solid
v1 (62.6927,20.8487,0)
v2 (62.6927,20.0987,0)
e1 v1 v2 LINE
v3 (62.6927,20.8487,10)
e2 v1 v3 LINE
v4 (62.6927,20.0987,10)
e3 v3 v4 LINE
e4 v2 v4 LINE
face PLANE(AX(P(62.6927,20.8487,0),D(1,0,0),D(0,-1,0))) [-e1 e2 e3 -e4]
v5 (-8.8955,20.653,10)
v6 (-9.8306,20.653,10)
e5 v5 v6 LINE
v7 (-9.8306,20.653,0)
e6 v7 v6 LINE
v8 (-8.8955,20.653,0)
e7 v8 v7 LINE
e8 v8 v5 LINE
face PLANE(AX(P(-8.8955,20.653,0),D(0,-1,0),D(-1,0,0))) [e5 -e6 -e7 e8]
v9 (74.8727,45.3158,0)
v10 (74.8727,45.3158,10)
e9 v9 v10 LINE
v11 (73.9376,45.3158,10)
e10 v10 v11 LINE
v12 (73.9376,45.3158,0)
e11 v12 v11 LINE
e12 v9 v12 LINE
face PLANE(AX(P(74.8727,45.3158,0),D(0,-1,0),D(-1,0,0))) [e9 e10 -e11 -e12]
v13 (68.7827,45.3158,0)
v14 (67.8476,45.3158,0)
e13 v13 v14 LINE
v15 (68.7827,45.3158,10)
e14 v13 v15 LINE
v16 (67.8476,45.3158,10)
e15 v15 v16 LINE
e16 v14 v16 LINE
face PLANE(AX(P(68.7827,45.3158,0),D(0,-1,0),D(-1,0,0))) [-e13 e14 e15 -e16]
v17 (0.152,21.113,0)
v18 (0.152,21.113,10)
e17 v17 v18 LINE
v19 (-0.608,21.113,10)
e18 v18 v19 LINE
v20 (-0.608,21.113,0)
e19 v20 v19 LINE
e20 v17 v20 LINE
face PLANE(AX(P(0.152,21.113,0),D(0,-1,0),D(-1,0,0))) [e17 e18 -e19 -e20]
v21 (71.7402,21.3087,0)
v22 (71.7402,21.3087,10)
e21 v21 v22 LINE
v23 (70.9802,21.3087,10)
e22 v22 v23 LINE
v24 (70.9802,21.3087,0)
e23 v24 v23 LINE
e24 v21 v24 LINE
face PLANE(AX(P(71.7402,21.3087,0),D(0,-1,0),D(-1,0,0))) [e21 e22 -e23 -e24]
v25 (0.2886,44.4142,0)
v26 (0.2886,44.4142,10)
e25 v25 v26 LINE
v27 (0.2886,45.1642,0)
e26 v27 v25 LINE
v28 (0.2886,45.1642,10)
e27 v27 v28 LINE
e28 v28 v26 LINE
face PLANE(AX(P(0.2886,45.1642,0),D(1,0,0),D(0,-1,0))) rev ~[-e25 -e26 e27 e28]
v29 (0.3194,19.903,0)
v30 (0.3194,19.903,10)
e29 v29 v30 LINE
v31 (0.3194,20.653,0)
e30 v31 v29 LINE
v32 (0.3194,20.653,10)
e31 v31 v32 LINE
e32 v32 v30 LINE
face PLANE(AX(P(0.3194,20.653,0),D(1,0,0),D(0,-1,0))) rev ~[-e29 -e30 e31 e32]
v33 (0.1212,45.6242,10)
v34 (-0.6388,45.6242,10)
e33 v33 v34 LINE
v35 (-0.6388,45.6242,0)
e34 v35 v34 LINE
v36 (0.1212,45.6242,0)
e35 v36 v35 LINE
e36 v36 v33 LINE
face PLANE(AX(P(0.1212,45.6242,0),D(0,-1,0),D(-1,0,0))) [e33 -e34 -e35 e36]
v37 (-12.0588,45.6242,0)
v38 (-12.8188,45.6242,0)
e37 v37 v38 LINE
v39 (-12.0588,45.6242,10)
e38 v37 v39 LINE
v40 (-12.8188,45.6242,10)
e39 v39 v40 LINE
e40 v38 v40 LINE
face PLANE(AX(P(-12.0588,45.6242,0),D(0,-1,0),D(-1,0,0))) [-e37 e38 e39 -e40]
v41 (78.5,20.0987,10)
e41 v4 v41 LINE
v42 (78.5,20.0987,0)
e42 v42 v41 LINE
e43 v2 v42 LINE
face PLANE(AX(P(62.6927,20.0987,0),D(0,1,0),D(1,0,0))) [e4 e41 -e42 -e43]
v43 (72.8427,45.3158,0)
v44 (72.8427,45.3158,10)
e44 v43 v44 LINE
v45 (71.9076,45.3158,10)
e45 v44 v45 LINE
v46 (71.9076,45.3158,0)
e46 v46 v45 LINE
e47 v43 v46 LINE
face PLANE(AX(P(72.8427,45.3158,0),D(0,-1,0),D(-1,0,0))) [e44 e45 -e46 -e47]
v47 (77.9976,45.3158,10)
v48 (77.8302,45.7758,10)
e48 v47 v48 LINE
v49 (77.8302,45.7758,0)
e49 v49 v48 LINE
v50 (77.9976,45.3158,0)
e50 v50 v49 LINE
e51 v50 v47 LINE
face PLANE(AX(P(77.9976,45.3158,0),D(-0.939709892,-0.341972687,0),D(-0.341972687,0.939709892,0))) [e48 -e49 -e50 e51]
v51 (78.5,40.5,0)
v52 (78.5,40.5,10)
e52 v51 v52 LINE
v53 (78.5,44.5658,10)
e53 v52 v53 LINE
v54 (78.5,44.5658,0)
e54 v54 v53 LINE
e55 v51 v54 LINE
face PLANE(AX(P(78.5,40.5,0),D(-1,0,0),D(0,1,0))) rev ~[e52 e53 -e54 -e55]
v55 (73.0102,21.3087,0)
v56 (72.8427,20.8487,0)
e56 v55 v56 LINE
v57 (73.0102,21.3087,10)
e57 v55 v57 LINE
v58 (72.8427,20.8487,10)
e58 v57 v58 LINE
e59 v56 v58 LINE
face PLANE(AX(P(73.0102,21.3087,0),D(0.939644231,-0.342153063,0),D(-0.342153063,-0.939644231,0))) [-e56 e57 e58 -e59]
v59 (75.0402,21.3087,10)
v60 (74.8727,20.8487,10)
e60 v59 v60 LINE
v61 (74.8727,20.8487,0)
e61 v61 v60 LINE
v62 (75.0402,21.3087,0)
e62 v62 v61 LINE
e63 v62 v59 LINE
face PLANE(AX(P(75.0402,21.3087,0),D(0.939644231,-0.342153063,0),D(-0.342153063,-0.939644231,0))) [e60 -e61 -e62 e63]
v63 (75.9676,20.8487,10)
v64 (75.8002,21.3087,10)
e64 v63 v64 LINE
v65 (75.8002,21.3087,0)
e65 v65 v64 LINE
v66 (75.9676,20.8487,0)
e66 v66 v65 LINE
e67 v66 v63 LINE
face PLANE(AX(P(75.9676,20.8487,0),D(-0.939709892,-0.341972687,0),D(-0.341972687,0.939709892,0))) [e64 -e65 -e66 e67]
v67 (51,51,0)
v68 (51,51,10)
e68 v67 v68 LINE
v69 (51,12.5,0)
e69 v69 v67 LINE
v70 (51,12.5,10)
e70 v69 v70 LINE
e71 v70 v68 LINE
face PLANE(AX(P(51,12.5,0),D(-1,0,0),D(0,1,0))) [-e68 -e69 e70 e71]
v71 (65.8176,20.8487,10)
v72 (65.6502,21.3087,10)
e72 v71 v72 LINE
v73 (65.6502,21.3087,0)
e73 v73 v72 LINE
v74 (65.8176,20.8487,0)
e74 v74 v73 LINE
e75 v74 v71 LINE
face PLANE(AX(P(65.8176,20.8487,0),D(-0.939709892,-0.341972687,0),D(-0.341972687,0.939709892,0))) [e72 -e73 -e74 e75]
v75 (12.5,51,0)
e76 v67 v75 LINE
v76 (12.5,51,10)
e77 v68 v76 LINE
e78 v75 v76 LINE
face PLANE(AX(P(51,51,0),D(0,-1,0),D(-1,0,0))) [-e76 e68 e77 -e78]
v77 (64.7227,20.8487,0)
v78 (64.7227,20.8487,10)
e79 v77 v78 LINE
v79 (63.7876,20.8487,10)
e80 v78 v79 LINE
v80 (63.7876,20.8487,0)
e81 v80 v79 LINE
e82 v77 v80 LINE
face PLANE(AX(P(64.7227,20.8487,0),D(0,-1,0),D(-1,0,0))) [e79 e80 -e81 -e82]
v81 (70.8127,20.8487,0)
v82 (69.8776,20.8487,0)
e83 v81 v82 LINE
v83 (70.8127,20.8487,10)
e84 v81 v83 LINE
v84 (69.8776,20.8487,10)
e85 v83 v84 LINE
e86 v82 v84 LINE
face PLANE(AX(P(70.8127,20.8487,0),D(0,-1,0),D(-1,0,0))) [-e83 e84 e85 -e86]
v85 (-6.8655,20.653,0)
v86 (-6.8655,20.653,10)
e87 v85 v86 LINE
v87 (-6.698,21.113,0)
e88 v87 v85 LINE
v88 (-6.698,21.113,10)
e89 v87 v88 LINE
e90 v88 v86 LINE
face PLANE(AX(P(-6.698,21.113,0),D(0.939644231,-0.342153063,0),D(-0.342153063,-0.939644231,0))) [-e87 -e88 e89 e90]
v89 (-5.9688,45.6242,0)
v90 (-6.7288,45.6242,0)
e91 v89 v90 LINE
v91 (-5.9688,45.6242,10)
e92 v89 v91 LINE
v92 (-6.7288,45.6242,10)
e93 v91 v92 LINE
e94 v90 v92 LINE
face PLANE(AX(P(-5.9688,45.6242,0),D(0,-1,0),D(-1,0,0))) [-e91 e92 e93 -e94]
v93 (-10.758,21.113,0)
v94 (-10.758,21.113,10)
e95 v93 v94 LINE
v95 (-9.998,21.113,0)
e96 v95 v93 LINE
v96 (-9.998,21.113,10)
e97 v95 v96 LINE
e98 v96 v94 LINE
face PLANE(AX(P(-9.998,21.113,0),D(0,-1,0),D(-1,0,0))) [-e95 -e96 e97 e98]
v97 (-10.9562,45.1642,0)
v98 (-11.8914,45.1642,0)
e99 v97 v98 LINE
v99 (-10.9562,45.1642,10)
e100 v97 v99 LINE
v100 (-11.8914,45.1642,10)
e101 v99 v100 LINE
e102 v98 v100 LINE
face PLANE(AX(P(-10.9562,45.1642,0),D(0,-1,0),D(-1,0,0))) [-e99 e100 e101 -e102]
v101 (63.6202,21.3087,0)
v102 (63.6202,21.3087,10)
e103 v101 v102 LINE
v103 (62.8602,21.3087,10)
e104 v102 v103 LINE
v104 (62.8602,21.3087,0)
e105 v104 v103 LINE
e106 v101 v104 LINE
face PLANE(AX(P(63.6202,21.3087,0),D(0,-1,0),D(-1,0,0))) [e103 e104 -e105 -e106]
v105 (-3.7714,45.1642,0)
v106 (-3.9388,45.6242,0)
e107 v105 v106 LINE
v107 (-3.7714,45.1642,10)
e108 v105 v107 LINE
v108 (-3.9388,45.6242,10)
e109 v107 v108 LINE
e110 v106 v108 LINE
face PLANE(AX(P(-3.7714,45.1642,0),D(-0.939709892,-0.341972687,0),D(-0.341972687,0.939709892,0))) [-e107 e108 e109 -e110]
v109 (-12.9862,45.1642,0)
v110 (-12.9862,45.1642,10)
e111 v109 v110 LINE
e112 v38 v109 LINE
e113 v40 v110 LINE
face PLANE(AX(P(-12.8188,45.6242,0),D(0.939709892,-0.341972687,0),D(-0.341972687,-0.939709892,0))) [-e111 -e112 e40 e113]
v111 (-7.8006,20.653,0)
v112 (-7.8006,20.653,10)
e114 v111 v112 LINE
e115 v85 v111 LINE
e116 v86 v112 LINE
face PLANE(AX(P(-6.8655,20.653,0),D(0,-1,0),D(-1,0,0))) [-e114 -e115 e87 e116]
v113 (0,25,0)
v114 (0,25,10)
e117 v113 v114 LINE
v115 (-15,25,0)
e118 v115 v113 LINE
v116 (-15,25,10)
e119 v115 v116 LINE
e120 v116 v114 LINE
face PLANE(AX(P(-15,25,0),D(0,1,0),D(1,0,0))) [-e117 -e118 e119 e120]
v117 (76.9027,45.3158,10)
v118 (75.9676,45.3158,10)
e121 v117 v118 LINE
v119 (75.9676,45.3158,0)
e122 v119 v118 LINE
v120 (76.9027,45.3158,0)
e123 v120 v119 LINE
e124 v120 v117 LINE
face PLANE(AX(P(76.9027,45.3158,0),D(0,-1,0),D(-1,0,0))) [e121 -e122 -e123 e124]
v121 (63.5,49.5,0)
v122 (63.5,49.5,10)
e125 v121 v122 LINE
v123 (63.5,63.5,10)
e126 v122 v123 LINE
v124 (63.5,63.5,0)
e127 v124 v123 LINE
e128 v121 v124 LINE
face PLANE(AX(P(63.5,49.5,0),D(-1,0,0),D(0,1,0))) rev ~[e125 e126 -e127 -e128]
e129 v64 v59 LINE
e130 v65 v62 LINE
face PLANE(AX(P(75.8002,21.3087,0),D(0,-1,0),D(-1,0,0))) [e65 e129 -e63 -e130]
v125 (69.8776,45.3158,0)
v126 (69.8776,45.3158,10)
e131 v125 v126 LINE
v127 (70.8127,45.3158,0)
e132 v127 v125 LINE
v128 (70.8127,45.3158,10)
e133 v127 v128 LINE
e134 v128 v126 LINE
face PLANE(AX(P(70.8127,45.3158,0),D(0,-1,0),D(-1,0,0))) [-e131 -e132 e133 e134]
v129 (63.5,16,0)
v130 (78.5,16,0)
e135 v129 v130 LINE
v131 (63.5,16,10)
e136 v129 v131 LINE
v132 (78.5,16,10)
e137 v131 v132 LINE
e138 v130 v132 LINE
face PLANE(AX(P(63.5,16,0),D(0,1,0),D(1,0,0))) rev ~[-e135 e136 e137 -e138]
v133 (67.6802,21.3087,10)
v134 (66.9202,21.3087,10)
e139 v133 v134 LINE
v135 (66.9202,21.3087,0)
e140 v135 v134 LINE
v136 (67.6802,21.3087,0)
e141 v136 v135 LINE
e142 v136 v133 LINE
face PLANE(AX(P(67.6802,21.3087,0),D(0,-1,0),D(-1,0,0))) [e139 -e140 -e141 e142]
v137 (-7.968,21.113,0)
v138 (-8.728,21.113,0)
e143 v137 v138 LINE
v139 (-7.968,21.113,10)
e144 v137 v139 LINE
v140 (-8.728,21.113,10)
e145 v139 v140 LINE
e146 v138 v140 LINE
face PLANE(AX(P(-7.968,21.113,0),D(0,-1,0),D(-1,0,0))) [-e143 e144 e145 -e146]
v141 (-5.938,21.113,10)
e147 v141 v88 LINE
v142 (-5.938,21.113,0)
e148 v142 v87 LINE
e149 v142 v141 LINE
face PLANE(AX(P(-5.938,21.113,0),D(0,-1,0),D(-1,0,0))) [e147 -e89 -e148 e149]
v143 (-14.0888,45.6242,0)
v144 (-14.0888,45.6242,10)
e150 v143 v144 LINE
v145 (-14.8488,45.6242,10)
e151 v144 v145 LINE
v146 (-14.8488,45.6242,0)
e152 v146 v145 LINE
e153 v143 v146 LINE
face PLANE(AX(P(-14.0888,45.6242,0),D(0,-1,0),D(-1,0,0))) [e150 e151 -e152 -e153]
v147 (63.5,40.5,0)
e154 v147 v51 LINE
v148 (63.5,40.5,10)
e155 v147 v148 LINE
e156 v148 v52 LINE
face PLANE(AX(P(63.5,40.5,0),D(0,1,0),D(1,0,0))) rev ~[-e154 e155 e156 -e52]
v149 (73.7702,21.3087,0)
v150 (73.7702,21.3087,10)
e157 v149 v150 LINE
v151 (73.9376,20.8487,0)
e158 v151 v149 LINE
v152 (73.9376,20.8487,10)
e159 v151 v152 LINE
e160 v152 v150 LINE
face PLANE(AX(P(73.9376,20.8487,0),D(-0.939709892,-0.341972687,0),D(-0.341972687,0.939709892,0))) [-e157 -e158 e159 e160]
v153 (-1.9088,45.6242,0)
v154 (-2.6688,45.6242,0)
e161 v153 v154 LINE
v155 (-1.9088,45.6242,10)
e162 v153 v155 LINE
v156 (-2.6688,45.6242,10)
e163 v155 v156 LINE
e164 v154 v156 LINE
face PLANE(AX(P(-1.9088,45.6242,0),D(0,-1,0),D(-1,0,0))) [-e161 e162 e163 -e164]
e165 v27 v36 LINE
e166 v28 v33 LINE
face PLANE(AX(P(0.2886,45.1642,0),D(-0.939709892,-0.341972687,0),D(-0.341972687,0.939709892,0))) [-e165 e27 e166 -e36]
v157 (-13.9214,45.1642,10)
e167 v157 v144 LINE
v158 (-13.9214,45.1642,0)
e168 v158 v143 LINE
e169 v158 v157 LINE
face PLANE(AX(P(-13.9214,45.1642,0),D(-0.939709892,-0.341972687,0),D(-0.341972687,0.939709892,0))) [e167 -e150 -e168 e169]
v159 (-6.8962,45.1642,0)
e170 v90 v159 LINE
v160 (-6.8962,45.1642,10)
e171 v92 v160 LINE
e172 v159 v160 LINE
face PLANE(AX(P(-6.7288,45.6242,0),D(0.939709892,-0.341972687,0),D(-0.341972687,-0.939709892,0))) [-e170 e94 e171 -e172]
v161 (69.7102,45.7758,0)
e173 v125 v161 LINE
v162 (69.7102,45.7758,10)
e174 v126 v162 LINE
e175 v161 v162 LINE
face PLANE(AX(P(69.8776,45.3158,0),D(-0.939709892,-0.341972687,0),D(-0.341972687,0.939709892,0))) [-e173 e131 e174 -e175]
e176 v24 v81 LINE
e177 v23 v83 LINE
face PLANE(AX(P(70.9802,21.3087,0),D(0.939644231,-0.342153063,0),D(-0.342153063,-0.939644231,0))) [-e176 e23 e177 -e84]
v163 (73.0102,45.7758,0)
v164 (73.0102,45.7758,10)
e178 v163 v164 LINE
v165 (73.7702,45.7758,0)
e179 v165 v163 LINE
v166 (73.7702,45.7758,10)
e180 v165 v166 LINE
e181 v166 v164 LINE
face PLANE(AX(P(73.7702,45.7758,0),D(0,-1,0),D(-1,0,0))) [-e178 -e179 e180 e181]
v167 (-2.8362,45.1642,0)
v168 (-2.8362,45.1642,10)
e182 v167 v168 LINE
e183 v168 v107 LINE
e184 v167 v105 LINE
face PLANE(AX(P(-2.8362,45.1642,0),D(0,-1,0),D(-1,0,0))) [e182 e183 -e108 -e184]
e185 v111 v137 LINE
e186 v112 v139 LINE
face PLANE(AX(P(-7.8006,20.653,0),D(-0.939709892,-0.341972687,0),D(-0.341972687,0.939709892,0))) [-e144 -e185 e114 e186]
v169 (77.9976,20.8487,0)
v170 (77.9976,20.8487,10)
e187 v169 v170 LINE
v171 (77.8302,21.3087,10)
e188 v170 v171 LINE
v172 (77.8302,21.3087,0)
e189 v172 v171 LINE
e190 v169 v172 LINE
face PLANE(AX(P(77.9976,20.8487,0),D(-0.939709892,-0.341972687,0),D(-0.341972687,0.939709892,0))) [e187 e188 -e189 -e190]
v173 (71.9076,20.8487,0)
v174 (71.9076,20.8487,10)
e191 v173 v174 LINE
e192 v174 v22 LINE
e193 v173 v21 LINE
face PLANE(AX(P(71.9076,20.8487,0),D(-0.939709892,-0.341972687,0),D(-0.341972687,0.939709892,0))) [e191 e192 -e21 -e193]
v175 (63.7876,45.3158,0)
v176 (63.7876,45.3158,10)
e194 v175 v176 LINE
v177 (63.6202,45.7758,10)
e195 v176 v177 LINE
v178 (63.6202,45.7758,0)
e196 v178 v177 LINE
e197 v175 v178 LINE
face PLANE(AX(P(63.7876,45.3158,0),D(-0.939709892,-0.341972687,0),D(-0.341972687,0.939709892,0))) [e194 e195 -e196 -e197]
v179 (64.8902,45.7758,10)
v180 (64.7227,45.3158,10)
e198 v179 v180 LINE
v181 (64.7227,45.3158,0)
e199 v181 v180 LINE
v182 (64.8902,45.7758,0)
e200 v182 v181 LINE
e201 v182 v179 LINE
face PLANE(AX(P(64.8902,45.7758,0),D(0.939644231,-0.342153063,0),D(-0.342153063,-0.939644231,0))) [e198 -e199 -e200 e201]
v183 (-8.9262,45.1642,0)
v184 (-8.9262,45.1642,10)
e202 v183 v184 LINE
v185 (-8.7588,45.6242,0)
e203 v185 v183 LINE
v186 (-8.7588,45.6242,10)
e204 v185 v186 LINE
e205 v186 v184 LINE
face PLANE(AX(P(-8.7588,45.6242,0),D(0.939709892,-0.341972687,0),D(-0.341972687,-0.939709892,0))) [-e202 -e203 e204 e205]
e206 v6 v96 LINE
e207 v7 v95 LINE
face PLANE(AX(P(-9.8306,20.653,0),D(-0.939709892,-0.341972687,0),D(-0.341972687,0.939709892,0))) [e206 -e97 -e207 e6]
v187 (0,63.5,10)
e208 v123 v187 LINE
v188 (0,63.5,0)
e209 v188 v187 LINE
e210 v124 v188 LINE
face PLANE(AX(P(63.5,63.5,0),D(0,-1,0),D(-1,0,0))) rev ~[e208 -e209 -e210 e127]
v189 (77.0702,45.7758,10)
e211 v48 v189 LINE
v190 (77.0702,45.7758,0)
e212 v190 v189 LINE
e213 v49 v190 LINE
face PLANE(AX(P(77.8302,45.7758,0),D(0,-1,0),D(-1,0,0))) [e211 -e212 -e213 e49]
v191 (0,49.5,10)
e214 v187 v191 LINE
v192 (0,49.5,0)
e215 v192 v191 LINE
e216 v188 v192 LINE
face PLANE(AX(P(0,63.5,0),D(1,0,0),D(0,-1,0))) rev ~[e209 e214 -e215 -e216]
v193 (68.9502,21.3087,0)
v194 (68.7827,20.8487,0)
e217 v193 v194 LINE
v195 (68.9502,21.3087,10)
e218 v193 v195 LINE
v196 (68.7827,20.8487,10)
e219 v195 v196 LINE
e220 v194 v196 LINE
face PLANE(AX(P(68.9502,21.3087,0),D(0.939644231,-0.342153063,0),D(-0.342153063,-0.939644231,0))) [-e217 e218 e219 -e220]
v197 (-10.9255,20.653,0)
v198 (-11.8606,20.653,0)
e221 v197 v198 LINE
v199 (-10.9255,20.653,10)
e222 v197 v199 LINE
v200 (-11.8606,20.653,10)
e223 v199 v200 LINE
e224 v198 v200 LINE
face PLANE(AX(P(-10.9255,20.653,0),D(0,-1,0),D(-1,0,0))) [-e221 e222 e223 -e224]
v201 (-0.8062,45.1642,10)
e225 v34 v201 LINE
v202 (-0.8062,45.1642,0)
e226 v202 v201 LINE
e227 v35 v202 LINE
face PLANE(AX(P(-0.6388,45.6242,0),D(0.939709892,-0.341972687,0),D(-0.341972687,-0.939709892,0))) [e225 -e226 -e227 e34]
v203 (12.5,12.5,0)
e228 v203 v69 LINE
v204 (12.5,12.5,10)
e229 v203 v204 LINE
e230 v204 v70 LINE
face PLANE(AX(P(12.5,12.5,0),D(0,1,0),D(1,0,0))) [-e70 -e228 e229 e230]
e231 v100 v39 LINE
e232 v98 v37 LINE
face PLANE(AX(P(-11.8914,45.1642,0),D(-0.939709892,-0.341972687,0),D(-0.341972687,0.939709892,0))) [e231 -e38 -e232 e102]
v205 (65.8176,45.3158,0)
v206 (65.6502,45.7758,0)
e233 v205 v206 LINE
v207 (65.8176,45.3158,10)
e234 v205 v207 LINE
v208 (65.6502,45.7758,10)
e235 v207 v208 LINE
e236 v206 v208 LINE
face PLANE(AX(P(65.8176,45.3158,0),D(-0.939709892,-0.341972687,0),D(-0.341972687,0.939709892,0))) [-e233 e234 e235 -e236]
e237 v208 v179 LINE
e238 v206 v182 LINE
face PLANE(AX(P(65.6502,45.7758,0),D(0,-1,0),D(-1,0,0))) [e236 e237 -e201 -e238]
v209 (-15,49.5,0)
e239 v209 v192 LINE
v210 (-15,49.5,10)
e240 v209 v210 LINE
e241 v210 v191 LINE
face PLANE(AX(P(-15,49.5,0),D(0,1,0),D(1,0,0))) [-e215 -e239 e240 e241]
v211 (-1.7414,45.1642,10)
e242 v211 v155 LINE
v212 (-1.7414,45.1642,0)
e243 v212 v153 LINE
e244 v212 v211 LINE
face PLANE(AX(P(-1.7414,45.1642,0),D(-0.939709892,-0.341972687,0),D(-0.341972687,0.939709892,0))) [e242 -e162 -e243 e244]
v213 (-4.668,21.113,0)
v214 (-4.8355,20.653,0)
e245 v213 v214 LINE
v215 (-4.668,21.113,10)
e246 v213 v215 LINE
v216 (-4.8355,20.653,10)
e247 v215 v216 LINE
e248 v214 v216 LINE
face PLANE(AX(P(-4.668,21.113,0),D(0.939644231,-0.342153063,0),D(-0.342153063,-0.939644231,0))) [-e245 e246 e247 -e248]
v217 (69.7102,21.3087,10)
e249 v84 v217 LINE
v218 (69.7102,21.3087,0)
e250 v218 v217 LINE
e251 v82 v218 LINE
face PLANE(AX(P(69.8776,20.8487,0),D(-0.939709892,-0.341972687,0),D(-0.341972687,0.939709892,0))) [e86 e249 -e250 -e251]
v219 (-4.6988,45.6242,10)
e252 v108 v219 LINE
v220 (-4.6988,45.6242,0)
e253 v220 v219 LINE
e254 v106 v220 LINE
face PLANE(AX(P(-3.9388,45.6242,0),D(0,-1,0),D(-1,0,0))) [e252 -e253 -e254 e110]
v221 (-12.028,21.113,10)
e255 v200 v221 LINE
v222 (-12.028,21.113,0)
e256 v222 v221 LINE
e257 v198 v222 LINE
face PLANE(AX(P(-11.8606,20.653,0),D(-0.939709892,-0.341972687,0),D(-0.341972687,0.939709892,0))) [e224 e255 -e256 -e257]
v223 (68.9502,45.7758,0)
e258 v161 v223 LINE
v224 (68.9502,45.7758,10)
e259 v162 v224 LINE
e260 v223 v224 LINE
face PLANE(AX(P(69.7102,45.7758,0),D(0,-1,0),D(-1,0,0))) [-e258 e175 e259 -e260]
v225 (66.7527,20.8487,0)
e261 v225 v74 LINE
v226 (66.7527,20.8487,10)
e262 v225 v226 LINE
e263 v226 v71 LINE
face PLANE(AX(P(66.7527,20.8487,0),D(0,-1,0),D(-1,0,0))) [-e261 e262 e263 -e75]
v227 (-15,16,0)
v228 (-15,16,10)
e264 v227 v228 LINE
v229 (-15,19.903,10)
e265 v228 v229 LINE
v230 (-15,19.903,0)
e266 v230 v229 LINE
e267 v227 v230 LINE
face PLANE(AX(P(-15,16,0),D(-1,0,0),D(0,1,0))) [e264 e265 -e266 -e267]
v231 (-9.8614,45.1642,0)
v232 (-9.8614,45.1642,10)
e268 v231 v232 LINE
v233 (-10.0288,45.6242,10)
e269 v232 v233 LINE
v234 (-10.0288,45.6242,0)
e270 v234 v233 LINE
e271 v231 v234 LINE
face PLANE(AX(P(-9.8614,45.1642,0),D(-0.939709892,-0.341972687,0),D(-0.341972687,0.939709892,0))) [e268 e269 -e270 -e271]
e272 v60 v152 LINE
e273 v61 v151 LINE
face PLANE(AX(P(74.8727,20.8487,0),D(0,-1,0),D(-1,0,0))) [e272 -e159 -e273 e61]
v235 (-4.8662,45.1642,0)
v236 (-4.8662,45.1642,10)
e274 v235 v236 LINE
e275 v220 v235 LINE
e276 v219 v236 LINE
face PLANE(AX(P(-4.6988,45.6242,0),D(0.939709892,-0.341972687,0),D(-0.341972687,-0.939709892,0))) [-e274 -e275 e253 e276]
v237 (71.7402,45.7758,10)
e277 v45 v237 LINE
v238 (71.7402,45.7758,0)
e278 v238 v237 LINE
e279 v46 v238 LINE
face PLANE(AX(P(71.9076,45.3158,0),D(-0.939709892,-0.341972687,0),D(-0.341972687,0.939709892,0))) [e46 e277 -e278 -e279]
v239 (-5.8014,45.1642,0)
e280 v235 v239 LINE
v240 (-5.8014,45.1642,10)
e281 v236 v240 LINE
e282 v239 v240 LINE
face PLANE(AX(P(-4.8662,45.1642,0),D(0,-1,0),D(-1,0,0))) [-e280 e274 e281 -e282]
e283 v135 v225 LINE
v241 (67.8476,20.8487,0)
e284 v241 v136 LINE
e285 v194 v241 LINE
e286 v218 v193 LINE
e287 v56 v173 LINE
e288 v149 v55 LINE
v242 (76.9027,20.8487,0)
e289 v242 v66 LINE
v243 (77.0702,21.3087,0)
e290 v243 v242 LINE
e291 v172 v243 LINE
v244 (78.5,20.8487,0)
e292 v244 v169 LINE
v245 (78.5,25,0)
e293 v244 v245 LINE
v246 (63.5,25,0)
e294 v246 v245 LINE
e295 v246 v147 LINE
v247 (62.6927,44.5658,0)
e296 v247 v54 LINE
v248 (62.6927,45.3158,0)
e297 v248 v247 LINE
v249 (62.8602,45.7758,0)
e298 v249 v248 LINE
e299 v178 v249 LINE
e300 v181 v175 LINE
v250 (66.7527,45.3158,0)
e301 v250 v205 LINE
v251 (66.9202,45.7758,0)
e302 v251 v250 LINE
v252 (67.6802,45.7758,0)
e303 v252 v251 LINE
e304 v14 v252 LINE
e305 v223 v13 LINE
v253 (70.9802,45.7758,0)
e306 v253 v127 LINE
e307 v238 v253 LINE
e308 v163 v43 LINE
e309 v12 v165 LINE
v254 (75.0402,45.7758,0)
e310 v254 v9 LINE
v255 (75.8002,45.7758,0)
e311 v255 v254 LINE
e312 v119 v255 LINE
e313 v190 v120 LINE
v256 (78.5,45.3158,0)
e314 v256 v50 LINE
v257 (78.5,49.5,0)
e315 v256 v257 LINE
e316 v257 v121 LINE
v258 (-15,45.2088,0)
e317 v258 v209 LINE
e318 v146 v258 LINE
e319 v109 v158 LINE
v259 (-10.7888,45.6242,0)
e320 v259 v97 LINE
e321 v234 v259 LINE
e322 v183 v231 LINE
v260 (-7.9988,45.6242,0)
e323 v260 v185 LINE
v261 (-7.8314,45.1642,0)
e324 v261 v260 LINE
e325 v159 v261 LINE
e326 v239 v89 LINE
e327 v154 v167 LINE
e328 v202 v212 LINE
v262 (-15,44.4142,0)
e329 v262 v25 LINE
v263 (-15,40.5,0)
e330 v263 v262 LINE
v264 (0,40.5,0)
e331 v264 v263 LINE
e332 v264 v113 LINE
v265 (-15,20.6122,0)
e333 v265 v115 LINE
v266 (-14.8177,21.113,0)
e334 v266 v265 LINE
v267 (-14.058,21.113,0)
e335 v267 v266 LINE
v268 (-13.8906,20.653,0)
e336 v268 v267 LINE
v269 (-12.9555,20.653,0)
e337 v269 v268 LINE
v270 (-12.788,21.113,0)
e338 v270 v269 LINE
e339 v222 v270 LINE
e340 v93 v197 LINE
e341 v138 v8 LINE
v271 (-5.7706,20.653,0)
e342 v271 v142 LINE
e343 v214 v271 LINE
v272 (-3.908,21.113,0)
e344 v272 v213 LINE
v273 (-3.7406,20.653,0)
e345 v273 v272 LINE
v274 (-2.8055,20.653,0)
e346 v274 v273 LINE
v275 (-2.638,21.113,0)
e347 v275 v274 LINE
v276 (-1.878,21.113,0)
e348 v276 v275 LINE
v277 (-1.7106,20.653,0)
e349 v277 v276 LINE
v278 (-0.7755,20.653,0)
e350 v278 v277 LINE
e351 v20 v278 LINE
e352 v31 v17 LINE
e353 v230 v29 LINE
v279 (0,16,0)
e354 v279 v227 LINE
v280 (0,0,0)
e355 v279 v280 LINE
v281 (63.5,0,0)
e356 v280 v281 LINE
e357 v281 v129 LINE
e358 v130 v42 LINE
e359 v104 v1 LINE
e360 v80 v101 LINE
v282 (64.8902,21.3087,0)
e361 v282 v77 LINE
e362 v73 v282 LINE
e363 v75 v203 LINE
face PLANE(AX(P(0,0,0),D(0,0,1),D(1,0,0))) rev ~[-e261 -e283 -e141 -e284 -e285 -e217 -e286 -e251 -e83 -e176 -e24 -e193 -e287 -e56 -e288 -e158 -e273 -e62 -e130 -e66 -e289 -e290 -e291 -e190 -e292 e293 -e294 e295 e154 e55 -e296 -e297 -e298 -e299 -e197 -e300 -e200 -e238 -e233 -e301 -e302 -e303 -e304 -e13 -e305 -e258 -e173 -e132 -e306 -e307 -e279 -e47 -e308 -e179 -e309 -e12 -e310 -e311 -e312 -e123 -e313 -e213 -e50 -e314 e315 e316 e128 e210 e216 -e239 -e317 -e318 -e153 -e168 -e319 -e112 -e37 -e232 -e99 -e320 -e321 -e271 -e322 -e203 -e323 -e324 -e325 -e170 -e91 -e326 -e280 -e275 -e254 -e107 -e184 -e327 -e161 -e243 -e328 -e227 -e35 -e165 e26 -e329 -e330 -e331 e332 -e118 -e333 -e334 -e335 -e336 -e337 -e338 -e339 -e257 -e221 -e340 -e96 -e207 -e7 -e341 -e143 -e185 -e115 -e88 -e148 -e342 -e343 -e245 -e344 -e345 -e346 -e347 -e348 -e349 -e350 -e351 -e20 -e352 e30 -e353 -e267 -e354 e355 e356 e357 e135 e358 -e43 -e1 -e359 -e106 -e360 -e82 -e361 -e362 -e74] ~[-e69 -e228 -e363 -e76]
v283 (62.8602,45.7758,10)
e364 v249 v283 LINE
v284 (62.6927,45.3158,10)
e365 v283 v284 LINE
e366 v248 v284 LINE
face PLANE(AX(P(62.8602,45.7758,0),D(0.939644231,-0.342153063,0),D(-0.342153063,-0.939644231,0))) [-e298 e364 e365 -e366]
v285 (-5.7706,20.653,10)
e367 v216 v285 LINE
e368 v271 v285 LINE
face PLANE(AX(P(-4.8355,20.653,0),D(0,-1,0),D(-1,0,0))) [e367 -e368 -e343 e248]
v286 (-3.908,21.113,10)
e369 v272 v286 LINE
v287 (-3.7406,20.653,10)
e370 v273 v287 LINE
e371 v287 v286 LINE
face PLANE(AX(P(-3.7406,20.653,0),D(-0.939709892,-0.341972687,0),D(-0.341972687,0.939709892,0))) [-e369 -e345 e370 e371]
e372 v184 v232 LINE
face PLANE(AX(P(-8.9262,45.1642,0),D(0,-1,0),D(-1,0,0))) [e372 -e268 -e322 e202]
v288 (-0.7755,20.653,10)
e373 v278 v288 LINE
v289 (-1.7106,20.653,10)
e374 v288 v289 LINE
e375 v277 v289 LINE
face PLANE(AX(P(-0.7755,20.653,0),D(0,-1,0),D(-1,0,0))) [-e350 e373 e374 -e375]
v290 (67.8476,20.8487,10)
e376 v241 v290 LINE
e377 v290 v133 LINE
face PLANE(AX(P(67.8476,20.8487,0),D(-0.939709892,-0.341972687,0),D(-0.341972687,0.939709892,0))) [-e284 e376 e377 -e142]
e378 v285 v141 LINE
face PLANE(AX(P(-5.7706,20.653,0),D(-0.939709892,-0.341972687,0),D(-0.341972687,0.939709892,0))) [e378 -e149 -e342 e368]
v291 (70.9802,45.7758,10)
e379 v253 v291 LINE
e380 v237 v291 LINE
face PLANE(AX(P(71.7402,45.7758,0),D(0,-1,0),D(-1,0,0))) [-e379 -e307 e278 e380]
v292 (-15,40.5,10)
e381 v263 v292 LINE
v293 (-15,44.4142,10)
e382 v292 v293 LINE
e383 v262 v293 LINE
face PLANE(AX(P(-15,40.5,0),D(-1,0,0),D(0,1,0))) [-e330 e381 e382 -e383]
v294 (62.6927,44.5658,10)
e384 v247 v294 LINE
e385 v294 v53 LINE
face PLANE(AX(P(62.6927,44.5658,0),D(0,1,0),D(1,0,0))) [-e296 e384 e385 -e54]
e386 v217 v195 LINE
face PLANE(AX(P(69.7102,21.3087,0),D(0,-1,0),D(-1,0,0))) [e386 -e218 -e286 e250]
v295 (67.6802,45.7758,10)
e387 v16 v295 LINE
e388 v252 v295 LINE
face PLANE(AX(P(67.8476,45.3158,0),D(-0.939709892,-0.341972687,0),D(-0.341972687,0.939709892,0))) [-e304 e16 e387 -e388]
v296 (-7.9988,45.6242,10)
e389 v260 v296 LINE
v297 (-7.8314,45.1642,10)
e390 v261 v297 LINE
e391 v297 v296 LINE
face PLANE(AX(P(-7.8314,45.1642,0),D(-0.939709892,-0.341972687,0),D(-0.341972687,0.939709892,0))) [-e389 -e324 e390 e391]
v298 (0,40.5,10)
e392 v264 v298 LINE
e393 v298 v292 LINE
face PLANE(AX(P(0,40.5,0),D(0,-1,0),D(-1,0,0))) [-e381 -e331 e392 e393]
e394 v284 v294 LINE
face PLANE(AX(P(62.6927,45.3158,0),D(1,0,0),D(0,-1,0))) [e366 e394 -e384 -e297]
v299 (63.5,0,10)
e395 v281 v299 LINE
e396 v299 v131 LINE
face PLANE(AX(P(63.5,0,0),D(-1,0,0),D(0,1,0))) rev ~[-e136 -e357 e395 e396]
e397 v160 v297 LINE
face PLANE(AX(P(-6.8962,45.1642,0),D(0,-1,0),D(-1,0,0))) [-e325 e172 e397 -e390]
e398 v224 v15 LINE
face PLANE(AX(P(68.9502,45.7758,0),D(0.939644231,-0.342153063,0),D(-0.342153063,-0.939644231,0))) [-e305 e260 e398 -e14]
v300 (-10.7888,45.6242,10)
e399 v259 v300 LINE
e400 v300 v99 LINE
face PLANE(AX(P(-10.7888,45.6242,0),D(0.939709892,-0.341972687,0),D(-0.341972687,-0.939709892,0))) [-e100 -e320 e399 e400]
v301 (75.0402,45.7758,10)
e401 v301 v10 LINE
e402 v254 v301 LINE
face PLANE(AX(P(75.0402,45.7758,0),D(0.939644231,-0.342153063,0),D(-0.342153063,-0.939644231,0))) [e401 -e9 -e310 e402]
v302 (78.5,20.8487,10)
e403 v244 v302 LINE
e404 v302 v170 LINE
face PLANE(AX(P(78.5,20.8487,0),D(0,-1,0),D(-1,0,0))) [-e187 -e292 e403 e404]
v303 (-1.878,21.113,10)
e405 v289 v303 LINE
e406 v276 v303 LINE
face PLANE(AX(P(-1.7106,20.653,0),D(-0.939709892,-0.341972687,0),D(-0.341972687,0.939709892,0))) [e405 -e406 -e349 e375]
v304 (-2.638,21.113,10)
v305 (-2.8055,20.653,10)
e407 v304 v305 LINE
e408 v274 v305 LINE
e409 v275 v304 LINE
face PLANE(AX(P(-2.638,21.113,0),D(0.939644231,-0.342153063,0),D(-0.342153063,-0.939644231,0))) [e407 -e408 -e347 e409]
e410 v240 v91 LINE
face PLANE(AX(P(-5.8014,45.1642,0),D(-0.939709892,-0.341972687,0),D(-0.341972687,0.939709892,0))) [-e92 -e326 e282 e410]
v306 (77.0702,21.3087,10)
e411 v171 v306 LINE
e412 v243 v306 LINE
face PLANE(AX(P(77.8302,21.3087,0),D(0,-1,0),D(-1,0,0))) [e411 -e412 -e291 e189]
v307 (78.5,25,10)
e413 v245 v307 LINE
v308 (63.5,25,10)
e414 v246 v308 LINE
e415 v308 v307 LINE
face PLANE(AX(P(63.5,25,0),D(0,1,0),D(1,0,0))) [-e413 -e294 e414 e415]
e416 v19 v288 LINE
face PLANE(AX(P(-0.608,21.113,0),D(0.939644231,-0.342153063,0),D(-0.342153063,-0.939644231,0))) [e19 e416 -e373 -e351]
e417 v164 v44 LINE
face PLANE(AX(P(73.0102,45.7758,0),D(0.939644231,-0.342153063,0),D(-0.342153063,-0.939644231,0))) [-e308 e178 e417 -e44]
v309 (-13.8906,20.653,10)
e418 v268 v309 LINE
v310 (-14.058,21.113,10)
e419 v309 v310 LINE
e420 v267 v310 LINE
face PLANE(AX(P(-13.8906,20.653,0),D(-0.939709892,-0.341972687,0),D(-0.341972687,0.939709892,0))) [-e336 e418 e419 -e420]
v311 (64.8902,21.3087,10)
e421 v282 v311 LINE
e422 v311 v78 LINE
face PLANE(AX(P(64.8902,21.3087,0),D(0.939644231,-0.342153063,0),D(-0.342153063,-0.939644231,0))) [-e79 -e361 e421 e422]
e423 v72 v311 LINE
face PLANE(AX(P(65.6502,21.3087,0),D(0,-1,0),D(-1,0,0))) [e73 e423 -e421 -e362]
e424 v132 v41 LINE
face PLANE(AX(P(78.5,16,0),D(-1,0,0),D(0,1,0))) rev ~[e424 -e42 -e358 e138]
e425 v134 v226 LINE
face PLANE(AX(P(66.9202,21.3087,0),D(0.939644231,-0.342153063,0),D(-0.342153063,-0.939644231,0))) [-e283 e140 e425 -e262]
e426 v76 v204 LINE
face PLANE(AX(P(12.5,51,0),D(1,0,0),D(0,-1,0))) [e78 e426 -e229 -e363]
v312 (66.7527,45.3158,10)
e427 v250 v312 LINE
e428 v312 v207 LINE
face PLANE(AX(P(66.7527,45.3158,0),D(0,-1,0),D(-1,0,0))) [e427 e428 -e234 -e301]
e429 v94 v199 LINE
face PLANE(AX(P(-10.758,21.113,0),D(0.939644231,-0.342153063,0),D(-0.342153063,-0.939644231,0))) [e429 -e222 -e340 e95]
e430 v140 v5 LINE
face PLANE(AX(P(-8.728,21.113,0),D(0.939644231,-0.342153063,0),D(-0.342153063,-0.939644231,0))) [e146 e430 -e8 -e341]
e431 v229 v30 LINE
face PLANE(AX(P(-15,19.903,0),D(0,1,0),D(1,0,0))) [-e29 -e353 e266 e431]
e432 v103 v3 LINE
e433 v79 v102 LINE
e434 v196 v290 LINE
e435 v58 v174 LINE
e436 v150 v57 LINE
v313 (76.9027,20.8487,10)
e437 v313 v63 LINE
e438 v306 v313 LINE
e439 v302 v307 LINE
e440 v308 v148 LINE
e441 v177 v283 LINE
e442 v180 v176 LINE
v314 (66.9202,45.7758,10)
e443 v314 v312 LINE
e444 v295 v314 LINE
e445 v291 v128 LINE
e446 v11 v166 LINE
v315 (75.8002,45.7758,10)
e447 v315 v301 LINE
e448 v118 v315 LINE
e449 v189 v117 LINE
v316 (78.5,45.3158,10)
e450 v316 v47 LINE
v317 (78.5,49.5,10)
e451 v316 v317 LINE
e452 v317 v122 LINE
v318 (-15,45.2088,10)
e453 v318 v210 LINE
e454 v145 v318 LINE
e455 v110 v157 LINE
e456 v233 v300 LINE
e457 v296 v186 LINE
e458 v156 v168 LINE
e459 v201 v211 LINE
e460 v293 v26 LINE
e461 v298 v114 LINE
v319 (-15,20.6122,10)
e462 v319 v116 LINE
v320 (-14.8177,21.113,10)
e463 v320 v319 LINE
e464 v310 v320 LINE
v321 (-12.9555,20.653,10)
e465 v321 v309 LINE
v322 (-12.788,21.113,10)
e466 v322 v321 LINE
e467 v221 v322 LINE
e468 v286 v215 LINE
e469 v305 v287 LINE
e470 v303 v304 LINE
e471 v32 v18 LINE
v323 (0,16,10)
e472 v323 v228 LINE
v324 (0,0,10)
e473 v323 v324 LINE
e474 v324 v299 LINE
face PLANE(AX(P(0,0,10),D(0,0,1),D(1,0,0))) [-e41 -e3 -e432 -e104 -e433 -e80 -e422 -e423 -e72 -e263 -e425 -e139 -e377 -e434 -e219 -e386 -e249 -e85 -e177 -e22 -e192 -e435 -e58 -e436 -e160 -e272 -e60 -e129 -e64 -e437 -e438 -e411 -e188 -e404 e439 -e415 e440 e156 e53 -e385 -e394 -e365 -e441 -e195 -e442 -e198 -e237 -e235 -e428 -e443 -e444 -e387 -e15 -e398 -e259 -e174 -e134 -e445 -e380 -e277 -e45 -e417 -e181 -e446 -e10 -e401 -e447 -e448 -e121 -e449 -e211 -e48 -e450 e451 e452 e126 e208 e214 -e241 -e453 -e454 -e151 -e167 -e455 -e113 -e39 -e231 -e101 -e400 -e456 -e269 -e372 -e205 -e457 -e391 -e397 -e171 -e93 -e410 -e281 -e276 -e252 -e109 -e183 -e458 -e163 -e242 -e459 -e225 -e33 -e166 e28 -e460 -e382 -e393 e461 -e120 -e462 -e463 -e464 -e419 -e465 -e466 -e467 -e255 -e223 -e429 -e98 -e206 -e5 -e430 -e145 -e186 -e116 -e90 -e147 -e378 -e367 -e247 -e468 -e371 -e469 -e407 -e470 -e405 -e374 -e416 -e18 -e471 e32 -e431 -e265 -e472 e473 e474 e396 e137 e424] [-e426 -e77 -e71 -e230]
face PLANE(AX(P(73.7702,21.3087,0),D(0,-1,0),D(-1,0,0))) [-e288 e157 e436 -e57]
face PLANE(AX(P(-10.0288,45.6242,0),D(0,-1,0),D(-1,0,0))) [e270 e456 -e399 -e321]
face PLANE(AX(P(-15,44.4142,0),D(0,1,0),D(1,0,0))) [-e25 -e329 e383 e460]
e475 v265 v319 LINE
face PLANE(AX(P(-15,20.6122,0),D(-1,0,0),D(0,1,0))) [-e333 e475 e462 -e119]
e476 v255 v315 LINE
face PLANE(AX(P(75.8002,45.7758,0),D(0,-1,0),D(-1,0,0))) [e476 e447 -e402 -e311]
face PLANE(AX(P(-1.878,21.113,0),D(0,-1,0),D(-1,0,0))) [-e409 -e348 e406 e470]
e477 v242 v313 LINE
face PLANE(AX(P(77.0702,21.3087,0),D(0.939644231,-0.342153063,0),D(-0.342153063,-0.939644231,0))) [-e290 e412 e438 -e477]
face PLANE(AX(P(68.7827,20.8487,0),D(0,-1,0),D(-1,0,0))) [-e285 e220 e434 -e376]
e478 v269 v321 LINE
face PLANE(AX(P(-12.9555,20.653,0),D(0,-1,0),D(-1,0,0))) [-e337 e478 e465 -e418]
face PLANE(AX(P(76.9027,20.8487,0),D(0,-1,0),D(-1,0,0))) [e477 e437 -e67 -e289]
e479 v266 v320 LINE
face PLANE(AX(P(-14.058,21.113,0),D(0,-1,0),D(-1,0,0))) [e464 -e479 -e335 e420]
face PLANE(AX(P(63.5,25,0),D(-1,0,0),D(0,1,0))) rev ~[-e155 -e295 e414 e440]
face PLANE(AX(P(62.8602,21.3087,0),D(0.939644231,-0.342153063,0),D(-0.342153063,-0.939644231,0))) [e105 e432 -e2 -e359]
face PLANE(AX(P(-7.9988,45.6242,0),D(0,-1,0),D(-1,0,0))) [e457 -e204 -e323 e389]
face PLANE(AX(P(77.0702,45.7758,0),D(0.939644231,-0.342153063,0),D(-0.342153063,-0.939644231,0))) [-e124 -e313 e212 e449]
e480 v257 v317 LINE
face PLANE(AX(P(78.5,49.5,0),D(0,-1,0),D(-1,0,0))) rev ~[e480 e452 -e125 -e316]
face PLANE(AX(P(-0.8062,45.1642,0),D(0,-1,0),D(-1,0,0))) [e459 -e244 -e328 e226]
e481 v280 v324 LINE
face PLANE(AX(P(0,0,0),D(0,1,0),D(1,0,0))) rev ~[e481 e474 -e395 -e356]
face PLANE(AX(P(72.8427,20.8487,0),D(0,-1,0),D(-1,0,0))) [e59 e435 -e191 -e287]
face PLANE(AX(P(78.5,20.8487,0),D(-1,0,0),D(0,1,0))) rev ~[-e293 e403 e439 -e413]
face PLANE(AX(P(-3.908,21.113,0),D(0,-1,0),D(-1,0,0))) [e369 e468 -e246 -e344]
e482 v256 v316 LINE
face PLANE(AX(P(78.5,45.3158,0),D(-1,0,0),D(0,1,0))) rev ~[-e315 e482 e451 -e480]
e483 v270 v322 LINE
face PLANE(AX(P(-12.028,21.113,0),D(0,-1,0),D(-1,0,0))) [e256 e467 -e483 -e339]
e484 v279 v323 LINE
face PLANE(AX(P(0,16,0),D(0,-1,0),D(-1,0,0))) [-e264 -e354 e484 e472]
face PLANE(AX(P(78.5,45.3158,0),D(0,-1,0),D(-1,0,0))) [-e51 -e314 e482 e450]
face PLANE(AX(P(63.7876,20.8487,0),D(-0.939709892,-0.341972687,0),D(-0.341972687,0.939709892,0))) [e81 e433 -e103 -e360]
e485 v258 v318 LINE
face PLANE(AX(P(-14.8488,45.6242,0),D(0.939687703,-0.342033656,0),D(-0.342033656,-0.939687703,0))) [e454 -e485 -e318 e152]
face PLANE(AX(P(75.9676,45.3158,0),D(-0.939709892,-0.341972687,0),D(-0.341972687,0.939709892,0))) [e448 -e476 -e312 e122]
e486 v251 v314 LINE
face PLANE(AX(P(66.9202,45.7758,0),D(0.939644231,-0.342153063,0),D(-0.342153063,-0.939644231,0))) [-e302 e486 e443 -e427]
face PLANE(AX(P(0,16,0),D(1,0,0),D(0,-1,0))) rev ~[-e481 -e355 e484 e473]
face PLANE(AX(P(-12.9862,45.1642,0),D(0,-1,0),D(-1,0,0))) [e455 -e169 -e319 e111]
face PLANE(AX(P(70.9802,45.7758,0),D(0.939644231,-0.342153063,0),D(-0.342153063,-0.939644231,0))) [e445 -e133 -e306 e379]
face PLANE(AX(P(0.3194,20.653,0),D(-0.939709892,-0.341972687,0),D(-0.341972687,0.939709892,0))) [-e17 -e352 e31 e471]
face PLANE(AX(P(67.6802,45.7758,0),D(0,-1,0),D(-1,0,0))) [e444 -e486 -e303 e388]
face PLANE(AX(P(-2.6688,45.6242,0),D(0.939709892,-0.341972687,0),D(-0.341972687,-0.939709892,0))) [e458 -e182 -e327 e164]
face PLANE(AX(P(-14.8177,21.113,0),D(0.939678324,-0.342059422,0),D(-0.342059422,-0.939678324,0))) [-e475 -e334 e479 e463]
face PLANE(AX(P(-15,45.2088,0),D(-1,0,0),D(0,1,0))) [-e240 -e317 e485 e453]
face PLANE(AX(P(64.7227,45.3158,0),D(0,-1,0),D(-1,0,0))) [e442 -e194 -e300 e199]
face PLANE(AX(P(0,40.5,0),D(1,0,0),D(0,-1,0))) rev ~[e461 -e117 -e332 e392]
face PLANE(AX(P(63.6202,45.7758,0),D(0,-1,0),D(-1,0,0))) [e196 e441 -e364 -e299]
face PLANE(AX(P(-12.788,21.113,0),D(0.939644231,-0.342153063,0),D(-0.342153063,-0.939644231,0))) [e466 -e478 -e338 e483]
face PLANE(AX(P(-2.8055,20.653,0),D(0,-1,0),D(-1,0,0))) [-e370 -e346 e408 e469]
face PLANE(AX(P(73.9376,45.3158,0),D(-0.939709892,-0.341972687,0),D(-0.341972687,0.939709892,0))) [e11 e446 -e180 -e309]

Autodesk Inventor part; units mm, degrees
ref_plane "YZ Plane" through (0, 0, 0) normal (1, 0, 0) x (0, 1, 0)
ref_plane "XZ Plane" through (0, 0, 0) normal (0, 1, 0) x (-1, 0, 0)
ref_plane "XY Plane" through (0, 0, 0) normal (0, 0, 1) x (1, 0, 0)
sketch "Sketch1" plane through (0, 0, 0) normal (0, 0, 1) x (1, 0, 0)
  line L0 (0, 0) -> (63.5, 0)
  line L1 (63.5, 63.5) -> (0, 63.5)
  line L2 (0, 2) -> (0, 16) construction
  line L3 (0, 20.5) -> (-60, 20.5) construction
  line L4 (-60, 20.5) -> (152, 20.5) construction
  line L5 (0, 45) -> (-57, 45) construction
  line L6 (-57, 45) -> (114, 45) construction
  line L7 (0, 16) -> (-15, 16)
  line L8 (-15, 25) -> (0, 25)
  line L9 (0, 16) -> (0, 0)
  line L10 (0, 0) -> (12.5, 0) construction
  line L11 (12.5, 0) -> (12.5, 12.5) construction
  line L12 (12.5, 12.5) -> (18.4945, 12.5) construction
  line L13 (63.5, 63.5) -> (63.5, 51) construction
  line L14 (63.5, 51) -> (51, 51) construction
  line L15 (51, 51) -> (12.5, 51)
  line L16 (12.5, 51) -> (12.5, 12.5)
  line L17 (12.5, 12.5) -> (51, 12.5)
  line L18 (51, 12.5) -> (51, 51)
  line L19 (0, 40.5) -> (-15, 40.5)
  line L20 (-15, 49.5) -> (0, 49.5)
  line L21 (0.2886, 45.1642) -> (0.1212, 45.6242)
  line L22 (0.1212, 45.6242) -> (-0.6388, 45.6242)
  line L23 (-0.6388, 45.6242) -> (-0.8062, 45.1642)
  line L24 (-0.8062, 45.1642) -> (-1.7414, 45.1642)
  line L25 (-1.7414, 45.1642) -> (-1.9088, 45.6242)
  line L26 (-1.9088, 45.6242) -> (-2.6688, 45.6242)
  line L27 (-2.6688, 45.6242) -> (-2.8362, 45.1642)
  line L28 (-2.8362, 45.1642) -> (-3.7714, 45.1642)
  line L29 (-3.7714, 45.1642) -> (-3.9388, 45.6242)
  line L30 (-3.9388, 45.6242) -> (-4.6988, 45.6242)
  line L31 (-4.6988, 45.6242) -> (-4.8662, 45.1642)
  line L32 (-4.8662, 45.1642) -> (-5.8014, 45.1642)
  line L33 (-5.8014, 45.1642) -> (-5.9688, 45.6242)
  line L34 (-5.9688, 45.6242) -> (-6.7288, 45.6242)
  line L35 (-6.7288, 45.6242) -> (-6.8962, 45.1642)
  line L36 (-6.8962, 45.1642) -> (-7.8314, 45.1642)
  line L37 (-7.8314, 45.1642) -> (-7.9988, 45.6242)
  line L38 (-7.9988, 45.6242) -> (-8.7588, 45.6242)
  line L39 (-8.7588, 45.6242) -> (-8.9262, 45.1642)
  line L40 (-8.9262, 45.1642) -> (-9.8614, 45.1642)
  line L41 (-9.8614, 45.1642) -> (-10.0288, 45.6242)
  line L42 (-10.0288, 45.6242) -> (-10.7888, 45.6242)
  line L43 (-10.7888, 45.6242) -> (-10.9562, 45.1642)
  line L44 (-10.9562, 45.1642) -> (-11.8914, 45.1642)
  line L45 (-11.8914, 45.1642) -> (-12.0588, 45.6242)
  line L46 (-12.0588, 45.6242) -> (-12.8188, 45.6242)
  line L47 (-12.8188, 45.6242) -> (-12.9862, 45.1642)
  line L48 (-12.9862, 45.1642) -> (-13.9214, 45.1642)
  line L49 (-13.9214, 45.1642) -> (-14.0888, 45.6242)
  line L50 (-14.0888, 45.6242) -> (-14.8488, 45.6242)
  line L51 (-14.8488, 45.6242) -> (-15, 45.2088)
  line L52 (-15.0162, 44.4142) -> (0.2886, 44.4142)
  line L53 (0.3194, 20.653) -> (0.152, 21.113)
  line L54 (0.152, 21.113) -> (-0.608, 21.113)
  line L55 (-0.608, 21.113) -> (-0.7755, 20.653)
  line L56 (-0.7755, 20.653) -> (-1.7106, 20.653)
  line L57 (-1.7106, 20.653) -> (-1.878, 21.113)
  line L58 (-1.878, 21.113) -> (-2.638, 21.113)
  line L59 (-2.638, 21.113) -> (-2.8055, 20.653)
  line L60 (-2.8055, 20.653) -> (-3.7406, 20.653)
  line L61 (-3.7406, 20.653) -> (-3.908, 21.113)
  line L62 (-3.908, 21.113) -> (-4.668, 21.113)
  line L63 (-4.668, 21.113) -> (-4.8355, 20.653)
  line L64 (-4.8355, 20.653) -> (-5.7706, 20.653)
  line L65 (-5.7706, 20.653) -> (-5.938, 21.113)
  line L66 (-5.938, 21.113) -> (-6.698, 21.113)
  line L67 (-6.698, 21.113) -> (-6.8655, 20.653)
  line L68 (-6.8655, 20.653) -> (-7.8006, 20.653)
  line L69 (-7.8006, 20.653) -> (-7.968, 21.113)
  line L70 (-7.968, 21.113) -> (-8.728, 21.113)
  line L71 (-8.728, 21.113) -> (-8.8955, 20.653)
  line L72 (-8.8955, 20.653) -> (-9.8306, 20.653)
  line L73 (-9.8306, 20.653) -> (-9.998, 21.113)
  line L74 (-9.998, 21.113) -> (-10.758, 21.113)
  line L75 (-10.758, 21.113) -> (-10.9255, 20.653)
  line L76 (-10.9255, 20.653) -> (-11.8606, 20.653)
  line L77 (-11.8606, 20.653) -> (-12.028, 21.113)
  line L78 (-12.028, 21.113) -> (-12.788, 21.113)
  line L79 (-12.788, 21.113) -> (-12.9555, 20.653)
  line L80 (-12.9555, 20.653) -> (-13.8906, 20.653)
  line L81 (-13.8906, 20.653) -> (-14.058, 21.113)
  line L82 (-14.058, 21.113) -> (-14.8177, 21.113)
  line L83 (-14.8177, 21.113) -> (-15, 20.6122)
  line L84 (-15, 19.903) -> (0.3194, 19.903)
  line L85 (0, 63.5) -> (0, 49.5) construction
  line L86 (0, 63.5) -> (0, 49.5)
  line L87 (0, 40.5) -> (0, 25)
  line L88 (0.2886, 45.1642) -> (0.2886, 44.4142)
  line L89 (-15, 40.5) -> (-15, 44.4142)
  line L90 (-15, 45.2088) -> (-15, 49.5)
  line L91 (0.3194, 20.653) -> (0.3194, 19.903)
  line L92 (-15, 16) -> (-15, 19.903)
  line L93 (-15, 20.6122) -> (-15, 25)
  line L94 (63.5, 40.5) -> (78.5, 40.5)
  line L95 (78.5, 49.5) -> (63.5, 49.5)
  line L96 (63.5, 16) -> (78.5, 16)
  line L97 (63.5, 25) -> (78.5, 25)
  line L98 (78.5, 20.8487) -> (77.9976, 20.8487)
  line L99 (77.9976, 20.8487) -> (77.8302, 21.3087)
  line L100 (77.8302, 21.3087) -> (77.0702, 21.3087)
  line L101 (77.0702, 21.3087) -> (76.9027, 20.8487)
  line L102 (76.9027, 20.8487) -> (75.9676, 20.8487)
  line L103 (75.9676, 20.8487) -> (75.8002, 21.3087)
  line L104 (75.8002, 21.3087) -> (75.0402, 21.3087)
  line L105 (75.0402, 21.3087) -> (74.8727, 20.8487)
  line L106 (74.8727, 20.8487) -> (73.9376, 20.8487)
  line L107 (73.9376, 20.8487) -> (73.7702, 21.3087)
  line L108 (73.7702, 21.3087) -> (73.0102, 21.3087)
  line L109 (73.0102, 21.3087) -> (72.8427, 20.8487)
  line L110 (72.8427, 20.8487) -> (71.9076, 20.8487)
  line L111 (71.9076, 20.8487) -> (71.7402, 21.3087)
  line L112 (71.7402, 21.3087) -> (70.9802, 21.3087)
  line L113 (70.9802, 21.3087) -> (70.8127, 20.8487)
  line L114 (70.8127, 20.8487) -> (69.8776, 20.8487)
  line L115 (69.8776, 20.8487) -> (69.7102, 21.3087)
  line L116 (69.7102, 21.3087) -> (68.9502, 21.3087)
  line L117 (68.9502, 21.3087) -> (68.7827, 20.8487)
  line L118 (68.7827, 20.8487) -> (67.8476, 20.8487)
  line L119 (67.8476, 20.8487) -> (67.6802, 21.3087)
  line L120 (67.6802, 21.3087) -> (66.9202, 21.3087)
  line L121 (66.9202, 21.3087) -> (66.7527, 20.8487)
  line L122 (66.7527, 20.8487) -> (65.8176, 20.8487)
  line L123 (65.8176, 20.8487) -> (65.6502, 21.3087)
  line L124 (65.6502, 21.3087) -> (64.8902, 21.3087)
  line L125 (64.8902, 21.3087) -> (64.7227, 20.8487)
  line L126 (64.7227, 20.8487) -> (63.7876, 20.8487)
  line L127 (63.7876, 20.8487) -> (63.6202, 21.3087)
  line L128 (63.6202, 21.3087) -> (62.8602, 21.3087)
  line L129 (62.8602, 21.3087) -> (62.6927, 20.8487)
  line L130 (62.6927, 20.8487) -> (62.6927, 20.0987)
  line L131 (62.6927, 20.0987) -> (78.5, 20.0987)
  line L132 (78.5, 45.3158) -> (77.9976, 45.3158)
  line L133 (77.9976, 45.3158) -> (77.8302, 45.7758)
  line L134 (77.8302, 45.7758) -> (77.0702, 45.7758)
  line L135 (77.0702, 45.7758) -> (76.9027, 45.3158)
  line L136 (76.9027, 45.3158) -> (75.9676, 45.3158)
  line L137 (75.9676, 45.3158) -> (75.8002, 45.7758)
  line L138 (75.8002, 45.7758) -> (75.0402, 45.7758)
  line L139 (75.0402, 45.7758) -> (74.8727, 45.3158)
  line L140 (74.8727, 45.3158) -> (73.9376, 45.3158)
  line L141 (73.9376, 45.3158) -> (73.7702, 45.7758)
  line L142 (73.7702, 45.7758) -> (73.0102, 45.7758)
  line L143 (73.0102, 45.7758) -> (72.8427, 45.3158)
  line L144 (72.8427, 45.3158) -> (71.9076, 45.3158)
  line L145 (71.9076, 45.3158) -> (71.7402, 45.7758)
  line L146 (71.7402, 45.7758) -> (70.9802, 45.7758)
  line L147 (70.9802, 45.7758) -> (70.8127, 45.3158)
  line L148 (70.8127, 45.3158) -> (69.8776, 45.3158)
  line L149 (69.8776, 45.3158) -> (69.7102, 45.7758)
  line L150 (69.7102, 45.7758) -> (68.9502, 45.7758)
  line L151 (68.9502, 45.7758) -> (68.7827, 45.3158)
  line L152 (68.7827, 45.3158) -> (67.8476, 45.3158)
  line L153 (67.8476, 45.3158) -> (67.6802, 45.7758)
  line L154 (67.6802, 45.7758) -> (66.9202, 45.7758)
  line L155 (66.9202, 45.7758) -> (66.7527, 45.3158)
  line L156 (66.7527, 45.3158) -> (65.8176, 45.3158)
  line L157 (65.8176, 45.3158) -> (65.6502, 45.7758)
  line L158 (65.6502, 45.7758) -> (64.8902, 45.7758)
  line L159 (64.8902, 45.7758) -> (64.7227, 45.3158)
  line L160 (64.7227, 45.3158) -> (63.7876, 45.3158)
  line L161 (63.7876, 45.3158) -> (63.6202, 45.7758)
  line L162 (63.6202, 45.7758) -> (62.8602, 45.7758)
  line L163 (62.8602, 45.7758) -> (62.6927, 45.3158)
  line L164 (62.6927, 45.3158) -> (62.6927, 44.5658)
  line L165 (62.6927, 44.5658) -> (78.5, 44.5658)
  line L166 (78.5, 16) -> (78.5, 20.0987)
  line L167 (78.5, 20.8487) -> (78.5, 25)
  line L168 (63.5, 0) -> (63.5, 16)
  line L169 (63.5, 49.5) -> (63.5, 63.5)
  line L170 (63.5, 25) -> (63.5, 40.5)
  line L171 (78.5, 40.5) -> (78.5, 44.5658)
  line L172 (78.5, 45.3158) -> (78.5, 49.5)
  dimension "d0" = 63.5
  dimension "d5" = 16
  dimension "d6" = 12.5
  dimension "d7" = 12.5
  dimension "d8" = 12.5
  dimension "d9" = 12.5
  dimension "d11" = 15
  dimension "d12" = 9
extrude "Extrusion1" add sketch "Sketch1" along normal blind 10
properties part number "printed carriage v2"
